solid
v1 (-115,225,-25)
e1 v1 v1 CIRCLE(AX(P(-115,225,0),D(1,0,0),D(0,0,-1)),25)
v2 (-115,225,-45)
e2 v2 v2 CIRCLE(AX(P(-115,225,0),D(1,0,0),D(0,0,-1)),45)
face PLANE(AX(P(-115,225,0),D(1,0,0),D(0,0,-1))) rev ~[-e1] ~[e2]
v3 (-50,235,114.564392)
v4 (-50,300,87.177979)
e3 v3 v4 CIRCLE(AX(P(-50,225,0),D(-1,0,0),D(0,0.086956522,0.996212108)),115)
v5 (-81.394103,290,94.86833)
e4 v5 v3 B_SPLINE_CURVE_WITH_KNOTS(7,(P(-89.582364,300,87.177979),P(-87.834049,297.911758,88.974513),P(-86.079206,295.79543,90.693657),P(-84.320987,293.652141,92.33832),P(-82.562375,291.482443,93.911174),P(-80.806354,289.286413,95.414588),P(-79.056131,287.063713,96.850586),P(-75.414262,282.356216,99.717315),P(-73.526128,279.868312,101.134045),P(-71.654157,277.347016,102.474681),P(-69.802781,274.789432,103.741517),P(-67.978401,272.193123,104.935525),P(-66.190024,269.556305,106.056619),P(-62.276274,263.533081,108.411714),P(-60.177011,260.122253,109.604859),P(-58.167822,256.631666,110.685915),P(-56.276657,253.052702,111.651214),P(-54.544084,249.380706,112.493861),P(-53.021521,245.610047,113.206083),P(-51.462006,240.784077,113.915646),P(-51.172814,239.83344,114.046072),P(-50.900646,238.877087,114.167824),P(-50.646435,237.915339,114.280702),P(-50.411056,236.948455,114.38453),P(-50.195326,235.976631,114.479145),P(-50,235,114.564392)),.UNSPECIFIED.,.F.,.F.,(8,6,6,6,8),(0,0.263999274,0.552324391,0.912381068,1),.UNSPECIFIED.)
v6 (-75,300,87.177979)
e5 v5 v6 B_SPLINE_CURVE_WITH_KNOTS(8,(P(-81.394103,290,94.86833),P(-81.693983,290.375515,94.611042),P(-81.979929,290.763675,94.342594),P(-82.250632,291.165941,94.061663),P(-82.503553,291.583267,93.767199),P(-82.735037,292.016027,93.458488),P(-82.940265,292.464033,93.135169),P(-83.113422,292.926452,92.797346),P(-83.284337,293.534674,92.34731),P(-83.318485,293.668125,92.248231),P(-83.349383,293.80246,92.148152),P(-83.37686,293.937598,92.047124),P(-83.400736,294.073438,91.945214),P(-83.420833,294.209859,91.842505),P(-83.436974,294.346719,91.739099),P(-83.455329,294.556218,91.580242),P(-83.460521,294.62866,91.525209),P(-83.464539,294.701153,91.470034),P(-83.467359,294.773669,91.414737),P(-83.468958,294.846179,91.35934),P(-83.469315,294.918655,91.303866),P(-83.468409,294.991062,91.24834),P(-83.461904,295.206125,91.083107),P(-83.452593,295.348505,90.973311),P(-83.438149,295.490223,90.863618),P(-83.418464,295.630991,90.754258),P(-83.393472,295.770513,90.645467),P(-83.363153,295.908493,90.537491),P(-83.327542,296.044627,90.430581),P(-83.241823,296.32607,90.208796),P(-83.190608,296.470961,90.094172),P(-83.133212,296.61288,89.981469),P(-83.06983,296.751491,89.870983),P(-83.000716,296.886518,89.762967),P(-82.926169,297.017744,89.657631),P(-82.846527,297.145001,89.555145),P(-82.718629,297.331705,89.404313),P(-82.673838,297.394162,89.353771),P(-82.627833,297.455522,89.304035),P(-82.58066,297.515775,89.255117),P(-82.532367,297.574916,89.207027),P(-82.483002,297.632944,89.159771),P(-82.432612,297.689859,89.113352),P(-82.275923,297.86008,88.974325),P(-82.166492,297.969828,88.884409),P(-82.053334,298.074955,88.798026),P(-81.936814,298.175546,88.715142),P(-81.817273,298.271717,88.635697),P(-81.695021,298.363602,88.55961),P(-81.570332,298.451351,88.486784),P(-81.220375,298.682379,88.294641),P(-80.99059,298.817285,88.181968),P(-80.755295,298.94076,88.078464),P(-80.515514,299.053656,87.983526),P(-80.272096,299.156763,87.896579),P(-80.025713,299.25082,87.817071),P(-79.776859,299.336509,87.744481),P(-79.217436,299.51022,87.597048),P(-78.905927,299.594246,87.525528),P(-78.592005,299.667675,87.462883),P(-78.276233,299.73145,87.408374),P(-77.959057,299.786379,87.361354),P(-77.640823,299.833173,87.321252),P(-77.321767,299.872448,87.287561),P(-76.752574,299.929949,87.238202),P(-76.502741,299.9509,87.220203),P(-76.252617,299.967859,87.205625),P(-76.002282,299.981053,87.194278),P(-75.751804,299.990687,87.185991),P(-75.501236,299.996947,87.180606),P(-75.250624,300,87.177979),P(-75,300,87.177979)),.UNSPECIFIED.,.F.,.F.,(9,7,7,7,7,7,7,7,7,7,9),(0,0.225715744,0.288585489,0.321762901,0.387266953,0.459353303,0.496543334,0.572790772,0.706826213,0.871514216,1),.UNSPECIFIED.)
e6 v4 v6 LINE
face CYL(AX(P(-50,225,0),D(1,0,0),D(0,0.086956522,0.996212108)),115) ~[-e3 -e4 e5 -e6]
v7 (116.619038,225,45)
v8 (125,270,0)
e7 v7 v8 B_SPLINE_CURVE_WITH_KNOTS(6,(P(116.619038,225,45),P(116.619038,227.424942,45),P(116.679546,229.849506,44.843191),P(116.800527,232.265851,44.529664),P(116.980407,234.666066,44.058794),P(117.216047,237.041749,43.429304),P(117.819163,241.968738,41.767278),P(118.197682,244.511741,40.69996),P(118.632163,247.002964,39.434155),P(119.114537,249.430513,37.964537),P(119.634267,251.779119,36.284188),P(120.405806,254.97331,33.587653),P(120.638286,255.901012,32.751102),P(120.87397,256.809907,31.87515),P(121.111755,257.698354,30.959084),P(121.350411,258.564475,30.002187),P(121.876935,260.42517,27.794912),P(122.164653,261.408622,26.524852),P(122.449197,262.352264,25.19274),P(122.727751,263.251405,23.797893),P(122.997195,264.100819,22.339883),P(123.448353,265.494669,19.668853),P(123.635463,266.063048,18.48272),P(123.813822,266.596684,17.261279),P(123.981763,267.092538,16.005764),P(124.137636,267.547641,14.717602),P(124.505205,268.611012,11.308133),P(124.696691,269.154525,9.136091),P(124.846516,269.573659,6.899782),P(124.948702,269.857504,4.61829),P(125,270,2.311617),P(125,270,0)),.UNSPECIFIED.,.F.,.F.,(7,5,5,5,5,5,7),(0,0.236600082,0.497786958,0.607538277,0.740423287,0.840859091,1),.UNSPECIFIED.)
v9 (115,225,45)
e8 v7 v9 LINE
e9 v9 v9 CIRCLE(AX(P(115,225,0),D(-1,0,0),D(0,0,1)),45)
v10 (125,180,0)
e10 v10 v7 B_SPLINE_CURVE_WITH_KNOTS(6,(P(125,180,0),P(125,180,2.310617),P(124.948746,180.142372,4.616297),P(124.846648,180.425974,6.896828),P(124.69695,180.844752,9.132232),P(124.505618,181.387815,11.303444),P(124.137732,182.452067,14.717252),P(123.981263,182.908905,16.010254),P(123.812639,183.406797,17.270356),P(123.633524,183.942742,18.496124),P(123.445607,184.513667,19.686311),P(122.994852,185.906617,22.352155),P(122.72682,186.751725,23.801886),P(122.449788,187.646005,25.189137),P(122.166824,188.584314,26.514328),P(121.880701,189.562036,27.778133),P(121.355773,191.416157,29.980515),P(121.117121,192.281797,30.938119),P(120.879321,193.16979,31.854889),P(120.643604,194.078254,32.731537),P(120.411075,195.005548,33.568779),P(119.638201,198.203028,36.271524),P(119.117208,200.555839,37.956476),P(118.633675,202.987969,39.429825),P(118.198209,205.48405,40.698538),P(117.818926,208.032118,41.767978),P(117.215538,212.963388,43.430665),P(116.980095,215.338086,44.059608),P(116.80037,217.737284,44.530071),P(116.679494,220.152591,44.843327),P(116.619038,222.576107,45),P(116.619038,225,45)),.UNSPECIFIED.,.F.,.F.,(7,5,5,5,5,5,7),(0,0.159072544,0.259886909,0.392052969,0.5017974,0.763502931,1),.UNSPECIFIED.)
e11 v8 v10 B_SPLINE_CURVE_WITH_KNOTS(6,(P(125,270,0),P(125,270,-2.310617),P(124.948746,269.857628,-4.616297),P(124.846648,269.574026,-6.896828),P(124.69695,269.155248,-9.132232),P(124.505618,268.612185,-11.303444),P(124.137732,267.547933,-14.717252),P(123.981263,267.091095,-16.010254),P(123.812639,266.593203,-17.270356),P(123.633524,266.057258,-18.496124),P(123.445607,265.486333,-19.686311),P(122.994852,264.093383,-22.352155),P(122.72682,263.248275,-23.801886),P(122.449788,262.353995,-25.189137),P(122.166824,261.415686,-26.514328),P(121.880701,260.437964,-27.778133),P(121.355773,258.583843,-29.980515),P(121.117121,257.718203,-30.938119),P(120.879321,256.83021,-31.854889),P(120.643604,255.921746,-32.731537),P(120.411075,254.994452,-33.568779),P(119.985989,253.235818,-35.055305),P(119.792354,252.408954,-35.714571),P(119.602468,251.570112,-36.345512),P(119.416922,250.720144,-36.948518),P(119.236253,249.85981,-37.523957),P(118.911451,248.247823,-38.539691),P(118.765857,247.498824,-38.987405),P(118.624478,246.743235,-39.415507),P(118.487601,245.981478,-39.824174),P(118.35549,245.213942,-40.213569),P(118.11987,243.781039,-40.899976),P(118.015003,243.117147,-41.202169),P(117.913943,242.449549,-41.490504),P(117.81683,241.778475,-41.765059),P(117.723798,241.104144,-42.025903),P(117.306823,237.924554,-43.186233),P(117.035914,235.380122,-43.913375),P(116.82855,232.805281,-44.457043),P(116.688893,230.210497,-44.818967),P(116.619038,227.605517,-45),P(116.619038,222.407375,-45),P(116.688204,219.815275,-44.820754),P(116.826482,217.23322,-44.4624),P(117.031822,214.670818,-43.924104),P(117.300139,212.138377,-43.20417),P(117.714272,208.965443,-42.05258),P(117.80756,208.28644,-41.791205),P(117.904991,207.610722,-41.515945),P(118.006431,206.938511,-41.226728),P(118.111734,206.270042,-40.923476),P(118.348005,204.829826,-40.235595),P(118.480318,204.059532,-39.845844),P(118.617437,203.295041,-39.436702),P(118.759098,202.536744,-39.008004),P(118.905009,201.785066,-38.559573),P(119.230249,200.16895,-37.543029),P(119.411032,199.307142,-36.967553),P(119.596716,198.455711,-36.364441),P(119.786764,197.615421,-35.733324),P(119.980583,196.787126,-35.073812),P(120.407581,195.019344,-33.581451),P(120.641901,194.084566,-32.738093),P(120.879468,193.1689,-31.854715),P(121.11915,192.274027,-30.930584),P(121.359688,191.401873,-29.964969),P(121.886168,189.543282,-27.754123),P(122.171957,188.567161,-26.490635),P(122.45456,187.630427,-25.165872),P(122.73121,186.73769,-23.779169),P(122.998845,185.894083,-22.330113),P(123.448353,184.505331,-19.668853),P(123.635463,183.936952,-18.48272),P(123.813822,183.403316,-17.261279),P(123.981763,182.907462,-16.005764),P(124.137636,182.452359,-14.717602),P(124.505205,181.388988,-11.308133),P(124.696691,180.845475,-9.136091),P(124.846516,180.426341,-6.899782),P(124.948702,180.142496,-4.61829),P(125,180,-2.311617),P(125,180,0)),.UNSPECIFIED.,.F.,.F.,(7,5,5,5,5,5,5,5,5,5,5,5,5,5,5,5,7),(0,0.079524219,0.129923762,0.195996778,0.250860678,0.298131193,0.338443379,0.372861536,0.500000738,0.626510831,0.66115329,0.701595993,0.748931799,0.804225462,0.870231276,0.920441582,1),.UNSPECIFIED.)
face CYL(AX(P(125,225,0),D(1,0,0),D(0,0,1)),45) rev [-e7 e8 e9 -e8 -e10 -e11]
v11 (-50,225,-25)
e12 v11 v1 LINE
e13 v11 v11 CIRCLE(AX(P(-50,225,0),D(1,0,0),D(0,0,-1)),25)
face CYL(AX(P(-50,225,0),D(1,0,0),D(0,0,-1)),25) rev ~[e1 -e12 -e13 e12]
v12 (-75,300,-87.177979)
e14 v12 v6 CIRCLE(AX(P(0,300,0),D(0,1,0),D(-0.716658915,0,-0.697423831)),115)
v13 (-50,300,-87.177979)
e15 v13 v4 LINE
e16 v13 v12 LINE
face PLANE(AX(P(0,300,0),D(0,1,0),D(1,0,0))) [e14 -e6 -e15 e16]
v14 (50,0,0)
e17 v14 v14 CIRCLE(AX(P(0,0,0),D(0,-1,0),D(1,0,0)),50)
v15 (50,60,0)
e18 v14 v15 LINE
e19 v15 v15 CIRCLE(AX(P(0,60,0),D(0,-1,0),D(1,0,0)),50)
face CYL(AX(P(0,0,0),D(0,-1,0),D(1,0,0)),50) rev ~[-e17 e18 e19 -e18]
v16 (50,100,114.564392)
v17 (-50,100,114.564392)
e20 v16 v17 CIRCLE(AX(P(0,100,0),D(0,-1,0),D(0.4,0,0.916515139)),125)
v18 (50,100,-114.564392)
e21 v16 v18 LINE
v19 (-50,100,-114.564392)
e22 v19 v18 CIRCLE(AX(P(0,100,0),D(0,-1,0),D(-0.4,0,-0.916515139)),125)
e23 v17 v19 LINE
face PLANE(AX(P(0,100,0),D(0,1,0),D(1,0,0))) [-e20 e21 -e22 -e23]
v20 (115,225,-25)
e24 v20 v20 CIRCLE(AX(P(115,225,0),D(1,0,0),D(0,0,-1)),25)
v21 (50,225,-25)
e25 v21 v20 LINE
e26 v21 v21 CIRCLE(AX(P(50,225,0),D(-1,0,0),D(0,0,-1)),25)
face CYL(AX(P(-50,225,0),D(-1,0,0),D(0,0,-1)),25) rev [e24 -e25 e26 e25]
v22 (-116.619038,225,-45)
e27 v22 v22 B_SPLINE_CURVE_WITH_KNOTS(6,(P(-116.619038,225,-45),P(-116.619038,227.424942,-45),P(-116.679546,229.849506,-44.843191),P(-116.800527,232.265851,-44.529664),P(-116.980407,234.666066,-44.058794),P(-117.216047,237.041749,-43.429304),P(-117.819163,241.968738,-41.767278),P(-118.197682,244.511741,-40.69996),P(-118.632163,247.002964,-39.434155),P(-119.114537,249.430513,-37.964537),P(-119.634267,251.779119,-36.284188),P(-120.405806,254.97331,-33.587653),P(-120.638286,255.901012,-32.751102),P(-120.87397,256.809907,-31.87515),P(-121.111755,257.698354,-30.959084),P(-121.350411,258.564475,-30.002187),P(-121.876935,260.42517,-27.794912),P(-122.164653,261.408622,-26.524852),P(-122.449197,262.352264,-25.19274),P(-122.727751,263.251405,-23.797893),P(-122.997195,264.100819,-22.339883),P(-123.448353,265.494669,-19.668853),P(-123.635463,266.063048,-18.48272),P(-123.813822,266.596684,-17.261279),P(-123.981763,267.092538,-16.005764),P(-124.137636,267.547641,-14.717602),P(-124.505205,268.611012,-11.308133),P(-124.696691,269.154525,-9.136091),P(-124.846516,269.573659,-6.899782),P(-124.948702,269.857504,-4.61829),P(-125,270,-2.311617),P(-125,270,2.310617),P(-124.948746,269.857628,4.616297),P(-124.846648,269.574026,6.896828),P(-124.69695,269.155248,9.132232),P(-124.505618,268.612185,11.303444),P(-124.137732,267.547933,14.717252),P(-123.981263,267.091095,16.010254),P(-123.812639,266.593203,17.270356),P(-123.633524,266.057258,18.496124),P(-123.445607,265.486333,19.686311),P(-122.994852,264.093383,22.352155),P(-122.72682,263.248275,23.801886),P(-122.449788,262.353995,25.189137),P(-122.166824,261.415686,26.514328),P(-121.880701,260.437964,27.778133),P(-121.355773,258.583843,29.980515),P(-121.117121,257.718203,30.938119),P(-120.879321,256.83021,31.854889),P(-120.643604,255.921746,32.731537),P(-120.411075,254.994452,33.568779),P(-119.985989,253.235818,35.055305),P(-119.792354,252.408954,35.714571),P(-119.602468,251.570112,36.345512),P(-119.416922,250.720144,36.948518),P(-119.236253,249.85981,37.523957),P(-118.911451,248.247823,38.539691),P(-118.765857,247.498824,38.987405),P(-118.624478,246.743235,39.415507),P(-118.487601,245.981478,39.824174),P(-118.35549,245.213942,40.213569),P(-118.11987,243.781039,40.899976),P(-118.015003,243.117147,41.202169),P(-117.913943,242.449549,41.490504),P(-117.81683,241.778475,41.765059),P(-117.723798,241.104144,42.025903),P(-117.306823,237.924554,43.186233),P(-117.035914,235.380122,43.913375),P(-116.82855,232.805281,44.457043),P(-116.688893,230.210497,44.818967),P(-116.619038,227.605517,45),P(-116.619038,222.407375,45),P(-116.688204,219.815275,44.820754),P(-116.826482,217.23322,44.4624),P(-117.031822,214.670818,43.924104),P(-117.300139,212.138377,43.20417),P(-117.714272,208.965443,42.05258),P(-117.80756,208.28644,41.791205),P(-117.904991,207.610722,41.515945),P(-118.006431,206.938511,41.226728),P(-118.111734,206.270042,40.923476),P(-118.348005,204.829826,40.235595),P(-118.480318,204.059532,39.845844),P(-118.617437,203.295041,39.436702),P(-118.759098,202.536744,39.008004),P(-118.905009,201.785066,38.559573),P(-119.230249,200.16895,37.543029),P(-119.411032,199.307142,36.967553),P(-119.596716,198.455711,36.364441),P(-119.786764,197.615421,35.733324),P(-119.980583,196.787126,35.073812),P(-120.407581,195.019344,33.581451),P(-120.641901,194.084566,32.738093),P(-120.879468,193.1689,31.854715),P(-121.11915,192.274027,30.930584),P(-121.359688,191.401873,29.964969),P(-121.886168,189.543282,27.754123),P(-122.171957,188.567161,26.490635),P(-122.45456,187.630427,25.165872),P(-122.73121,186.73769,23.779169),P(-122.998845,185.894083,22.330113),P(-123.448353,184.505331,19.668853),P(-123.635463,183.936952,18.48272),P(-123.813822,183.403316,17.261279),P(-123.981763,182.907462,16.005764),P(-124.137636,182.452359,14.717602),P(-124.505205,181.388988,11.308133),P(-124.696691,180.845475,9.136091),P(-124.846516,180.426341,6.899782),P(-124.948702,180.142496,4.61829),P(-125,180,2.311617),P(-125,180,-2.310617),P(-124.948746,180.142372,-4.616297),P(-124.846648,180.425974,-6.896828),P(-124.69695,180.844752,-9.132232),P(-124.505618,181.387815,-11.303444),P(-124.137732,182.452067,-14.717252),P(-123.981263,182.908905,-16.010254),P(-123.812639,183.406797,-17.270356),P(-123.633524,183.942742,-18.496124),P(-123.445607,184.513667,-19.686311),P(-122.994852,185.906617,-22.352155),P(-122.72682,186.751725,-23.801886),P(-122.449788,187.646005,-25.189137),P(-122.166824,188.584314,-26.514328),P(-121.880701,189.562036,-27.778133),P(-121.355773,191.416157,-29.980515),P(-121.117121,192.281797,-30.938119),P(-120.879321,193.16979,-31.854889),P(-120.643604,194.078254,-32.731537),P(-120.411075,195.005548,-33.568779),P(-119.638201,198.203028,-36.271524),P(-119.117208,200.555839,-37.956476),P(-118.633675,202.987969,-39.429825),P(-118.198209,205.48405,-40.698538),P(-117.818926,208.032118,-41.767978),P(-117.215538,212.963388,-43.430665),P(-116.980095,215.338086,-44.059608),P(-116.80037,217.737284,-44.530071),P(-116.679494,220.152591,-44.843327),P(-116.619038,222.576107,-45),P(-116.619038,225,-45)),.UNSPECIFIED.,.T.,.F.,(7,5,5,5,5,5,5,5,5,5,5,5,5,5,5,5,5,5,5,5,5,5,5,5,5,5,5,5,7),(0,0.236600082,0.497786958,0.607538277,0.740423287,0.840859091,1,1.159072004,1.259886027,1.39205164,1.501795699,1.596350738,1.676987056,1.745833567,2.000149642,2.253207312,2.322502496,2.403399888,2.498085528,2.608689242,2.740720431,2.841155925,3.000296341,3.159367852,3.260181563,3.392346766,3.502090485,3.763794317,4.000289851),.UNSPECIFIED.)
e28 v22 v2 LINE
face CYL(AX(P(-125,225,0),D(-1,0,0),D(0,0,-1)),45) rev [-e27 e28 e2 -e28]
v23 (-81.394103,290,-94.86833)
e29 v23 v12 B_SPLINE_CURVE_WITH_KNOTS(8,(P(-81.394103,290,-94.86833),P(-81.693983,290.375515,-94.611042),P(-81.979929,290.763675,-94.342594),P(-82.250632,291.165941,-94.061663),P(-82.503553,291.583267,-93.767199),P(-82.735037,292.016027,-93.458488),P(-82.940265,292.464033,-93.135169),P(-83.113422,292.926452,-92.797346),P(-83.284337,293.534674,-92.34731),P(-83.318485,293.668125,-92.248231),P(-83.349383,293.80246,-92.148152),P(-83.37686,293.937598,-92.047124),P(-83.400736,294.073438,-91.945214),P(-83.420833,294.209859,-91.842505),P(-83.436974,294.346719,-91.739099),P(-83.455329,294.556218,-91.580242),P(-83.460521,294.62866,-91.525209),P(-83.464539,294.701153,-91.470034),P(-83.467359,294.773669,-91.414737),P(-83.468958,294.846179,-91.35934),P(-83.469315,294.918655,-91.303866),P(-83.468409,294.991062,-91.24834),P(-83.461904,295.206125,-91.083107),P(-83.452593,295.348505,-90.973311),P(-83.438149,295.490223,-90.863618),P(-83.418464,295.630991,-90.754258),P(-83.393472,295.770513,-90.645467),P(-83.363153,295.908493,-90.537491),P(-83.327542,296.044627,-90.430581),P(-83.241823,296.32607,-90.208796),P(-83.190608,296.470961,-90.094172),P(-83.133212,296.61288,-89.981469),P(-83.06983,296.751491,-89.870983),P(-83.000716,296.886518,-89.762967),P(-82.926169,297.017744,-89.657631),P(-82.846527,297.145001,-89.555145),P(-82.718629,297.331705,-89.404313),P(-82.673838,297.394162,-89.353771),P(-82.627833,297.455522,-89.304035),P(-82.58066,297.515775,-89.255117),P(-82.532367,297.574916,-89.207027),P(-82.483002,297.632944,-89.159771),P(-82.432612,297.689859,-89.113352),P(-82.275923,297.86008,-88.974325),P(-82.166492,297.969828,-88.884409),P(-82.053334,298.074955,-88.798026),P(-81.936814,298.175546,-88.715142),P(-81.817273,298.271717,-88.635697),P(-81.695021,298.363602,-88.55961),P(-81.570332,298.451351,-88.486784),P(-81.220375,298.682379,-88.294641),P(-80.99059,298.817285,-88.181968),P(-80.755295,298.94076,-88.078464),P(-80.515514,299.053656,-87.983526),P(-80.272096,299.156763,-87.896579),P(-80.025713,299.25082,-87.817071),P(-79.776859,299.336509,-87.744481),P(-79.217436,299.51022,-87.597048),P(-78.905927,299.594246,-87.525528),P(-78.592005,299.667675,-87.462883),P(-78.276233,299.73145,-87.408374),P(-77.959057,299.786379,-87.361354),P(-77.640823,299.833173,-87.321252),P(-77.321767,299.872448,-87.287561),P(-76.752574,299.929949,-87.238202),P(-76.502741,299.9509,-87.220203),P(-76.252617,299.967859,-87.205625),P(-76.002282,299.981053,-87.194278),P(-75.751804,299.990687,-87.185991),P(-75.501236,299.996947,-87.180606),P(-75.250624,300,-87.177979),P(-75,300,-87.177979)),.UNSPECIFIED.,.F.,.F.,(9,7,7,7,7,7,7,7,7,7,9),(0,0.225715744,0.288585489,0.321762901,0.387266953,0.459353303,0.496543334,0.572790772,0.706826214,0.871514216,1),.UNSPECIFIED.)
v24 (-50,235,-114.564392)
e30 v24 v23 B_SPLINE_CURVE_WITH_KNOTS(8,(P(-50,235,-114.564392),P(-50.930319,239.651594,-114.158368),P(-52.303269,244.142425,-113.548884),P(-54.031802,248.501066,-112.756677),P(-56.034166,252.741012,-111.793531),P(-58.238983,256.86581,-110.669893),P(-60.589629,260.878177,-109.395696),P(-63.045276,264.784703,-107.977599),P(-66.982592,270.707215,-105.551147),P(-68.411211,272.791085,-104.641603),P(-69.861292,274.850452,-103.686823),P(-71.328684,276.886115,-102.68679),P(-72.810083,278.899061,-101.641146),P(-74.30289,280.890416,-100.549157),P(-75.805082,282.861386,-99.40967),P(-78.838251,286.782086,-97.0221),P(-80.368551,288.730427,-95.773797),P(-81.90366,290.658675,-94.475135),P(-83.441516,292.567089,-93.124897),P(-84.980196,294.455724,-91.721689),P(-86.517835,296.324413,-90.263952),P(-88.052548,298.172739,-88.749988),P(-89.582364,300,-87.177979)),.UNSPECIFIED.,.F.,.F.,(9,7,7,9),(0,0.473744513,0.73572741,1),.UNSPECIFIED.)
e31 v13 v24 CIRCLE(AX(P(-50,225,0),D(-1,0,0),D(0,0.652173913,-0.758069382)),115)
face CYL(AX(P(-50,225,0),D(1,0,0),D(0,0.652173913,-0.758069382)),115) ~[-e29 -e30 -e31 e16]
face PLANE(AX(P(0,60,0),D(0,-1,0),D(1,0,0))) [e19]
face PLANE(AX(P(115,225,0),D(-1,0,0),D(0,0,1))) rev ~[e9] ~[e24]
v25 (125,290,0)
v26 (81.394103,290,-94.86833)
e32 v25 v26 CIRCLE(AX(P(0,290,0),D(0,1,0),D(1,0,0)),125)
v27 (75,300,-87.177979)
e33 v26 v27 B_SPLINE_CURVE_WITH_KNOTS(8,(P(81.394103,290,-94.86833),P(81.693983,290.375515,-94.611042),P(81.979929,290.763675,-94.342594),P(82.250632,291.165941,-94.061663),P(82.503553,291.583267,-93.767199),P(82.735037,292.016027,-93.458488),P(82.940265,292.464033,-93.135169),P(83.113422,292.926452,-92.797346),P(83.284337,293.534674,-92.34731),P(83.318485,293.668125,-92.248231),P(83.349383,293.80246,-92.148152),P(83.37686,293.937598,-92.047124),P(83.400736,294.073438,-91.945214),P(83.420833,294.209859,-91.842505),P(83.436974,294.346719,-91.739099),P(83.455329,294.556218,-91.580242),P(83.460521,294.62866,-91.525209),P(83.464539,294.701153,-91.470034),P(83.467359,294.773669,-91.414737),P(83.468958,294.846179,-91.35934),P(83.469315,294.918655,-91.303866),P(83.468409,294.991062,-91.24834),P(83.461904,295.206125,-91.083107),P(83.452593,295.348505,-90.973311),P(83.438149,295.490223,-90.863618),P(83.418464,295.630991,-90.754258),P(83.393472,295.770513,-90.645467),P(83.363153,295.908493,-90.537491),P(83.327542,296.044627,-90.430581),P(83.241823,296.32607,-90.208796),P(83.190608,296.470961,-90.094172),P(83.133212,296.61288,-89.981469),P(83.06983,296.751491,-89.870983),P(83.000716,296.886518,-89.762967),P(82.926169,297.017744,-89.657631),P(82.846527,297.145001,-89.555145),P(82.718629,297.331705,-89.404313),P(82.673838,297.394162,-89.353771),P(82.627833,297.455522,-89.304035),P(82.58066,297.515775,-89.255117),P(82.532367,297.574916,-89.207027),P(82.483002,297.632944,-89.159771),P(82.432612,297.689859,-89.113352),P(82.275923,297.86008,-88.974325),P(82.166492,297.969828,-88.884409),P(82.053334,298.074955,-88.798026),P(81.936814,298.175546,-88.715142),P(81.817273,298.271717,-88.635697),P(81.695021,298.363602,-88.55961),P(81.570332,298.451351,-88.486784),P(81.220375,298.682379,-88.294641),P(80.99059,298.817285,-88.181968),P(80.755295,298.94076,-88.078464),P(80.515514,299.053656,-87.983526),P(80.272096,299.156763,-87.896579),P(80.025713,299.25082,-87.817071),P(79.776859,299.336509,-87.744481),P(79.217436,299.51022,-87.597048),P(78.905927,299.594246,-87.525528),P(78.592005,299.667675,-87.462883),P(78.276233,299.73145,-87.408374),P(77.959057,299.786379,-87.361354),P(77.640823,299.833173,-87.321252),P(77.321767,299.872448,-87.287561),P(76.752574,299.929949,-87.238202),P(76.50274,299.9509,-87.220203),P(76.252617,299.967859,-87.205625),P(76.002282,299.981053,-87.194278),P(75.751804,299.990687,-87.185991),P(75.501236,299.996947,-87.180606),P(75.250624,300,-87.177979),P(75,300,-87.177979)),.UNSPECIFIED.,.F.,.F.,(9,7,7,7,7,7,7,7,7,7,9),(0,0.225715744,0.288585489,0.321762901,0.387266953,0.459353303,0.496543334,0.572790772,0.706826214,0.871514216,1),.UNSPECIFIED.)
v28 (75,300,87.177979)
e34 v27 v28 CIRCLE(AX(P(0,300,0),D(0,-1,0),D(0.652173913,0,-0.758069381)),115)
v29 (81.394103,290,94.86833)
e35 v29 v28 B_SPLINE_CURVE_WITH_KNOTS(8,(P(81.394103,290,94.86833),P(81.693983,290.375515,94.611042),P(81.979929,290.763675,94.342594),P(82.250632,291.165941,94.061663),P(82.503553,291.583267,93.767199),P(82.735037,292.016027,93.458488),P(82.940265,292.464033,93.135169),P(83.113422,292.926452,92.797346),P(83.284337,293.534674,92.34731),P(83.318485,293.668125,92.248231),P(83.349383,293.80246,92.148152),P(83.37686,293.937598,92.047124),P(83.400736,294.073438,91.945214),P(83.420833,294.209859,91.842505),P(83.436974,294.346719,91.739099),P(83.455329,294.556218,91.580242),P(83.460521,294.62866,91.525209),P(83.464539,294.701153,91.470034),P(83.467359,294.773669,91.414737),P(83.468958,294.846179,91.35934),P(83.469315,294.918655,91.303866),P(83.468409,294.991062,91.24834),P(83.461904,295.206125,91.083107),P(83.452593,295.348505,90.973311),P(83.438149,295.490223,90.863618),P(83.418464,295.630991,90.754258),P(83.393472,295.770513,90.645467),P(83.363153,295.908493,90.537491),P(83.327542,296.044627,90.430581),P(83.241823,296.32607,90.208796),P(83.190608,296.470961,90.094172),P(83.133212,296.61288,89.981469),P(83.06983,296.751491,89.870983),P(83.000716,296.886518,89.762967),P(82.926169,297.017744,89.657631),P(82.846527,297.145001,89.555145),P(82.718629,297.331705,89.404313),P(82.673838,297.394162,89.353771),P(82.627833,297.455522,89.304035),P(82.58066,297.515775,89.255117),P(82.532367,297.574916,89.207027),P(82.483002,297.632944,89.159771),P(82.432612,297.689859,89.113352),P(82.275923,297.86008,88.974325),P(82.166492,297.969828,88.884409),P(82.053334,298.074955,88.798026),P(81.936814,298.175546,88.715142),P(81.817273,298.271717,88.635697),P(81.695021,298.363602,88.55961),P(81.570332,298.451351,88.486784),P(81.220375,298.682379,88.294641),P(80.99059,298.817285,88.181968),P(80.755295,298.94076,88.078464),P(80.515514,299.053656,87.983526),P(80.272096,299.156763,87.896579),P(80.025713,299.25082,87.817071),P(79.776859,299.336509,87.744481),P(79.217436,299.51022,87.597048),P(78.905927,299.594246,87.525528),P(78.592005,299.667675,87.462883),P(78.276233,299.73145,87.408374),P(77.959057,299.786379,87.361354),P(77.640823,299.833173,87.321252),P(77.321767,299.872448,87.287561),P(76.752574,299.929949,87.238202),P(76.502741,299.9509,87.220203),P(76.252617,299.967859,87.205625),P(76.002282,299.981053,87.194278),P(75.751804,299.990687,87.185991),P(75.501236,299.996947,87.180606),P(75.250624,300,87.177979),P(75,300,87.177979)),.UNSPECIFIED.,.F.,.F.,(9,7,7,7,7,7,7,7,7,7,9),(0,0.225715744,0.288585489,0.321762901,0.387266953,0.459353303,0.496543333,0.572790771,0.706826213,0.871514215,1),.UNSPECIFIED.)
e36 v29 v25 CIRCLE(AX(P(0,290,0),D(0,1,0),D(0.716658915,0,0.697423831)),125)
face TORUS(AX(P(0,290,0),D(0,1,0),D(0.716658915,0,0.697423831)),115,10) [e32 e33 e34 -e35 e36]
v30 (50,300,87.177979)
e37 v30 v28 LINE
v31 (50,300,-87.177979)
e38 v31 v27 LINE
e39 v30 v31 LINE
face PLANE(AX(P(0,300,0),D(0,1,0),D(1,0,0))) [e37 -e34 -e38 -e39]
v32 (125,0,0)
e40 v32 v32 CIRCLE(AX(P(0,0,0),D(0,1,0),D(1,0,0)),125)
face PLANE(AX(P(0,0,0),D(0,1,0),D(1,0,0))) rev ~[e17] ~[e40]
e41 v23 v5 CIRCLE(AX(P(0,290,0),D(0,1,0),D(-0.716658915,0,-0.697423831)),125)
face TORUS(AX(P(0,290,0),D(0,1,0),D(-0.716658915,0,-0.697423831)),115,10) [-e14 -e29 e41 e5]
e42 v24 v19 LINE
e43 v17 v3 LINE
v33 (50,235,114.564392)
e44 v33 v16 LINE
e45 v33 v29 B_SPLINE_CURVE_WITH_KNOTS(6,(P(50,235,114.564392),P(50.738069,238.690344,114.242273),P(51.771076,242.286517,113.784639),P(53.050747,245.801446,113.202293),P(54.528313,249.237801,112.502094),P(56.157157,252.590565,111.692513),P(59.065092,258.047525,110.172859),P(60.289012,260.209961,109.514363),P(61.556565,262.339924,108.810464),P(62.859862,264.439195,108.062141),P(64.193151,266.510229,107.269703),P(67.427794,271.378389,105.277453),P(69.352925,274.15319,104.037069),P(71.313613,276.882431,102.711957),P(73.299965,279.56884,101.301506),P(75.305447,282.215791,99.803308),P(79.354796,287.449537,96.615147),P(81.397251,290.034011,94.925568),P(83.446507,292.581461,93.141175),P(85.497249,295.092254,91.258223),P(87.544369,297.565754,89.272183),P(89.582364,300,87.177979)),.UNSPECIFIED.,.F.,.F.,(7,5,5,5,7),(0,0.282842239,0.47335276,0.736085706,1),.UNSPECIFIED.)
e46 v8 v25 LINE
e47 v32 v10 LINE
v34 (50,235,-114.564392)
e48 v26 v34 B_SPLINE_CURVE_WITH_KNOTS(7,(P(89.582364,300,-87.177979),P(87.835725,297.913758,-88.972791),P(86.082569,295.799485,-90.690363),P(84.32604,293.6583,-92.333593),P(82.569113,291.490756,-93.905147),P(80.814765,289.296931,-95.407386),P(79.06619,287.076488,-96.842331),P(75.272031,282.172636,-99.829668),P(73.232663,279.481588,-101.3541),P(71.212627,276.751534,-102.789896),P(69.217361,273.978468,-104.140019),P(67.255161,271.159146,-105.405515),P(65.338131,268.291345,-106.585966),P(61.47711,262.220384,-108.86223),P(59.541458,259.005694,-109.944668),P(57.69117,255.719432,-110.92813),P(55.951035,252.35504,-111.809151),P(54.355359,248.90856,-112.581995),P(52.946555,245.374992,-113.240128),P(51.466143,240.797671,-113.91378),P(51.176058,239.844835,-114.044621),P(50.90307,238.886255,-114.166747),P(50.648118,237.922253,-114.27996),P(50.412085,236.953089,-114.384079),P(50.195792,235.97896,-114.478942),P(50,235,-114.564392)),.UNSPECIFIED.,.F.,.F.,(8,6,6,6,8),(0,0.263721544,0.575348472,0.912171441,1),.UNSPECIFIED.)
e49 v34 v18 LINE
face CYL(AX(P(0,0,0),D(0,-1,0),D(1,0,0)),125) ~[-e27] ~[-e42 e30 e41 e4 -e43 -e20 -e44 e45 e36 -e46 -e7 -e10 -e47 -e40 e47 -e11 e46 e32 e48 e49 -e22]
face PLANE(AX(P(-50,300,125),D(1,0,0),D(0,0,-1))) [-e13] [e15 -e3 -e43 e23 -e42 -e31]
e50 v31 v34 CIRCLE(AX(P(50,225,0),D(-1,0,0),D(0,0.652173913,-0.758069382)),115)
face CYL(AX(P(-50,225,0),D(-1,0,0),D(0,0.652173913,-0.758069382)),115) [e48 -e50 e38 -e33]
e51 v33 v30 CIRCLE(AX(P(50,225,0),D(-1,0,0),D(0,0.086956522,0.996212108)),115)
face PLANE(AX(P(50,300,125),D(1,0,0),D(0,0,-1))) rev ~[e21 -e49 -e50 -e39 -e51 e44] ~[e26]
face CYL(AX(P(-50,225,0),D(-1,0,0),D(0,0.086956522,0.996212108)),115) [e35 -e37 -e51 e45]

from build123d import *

# Parameters (mm, degrees)
SKETCH1_R               = 125
BOSS_EXTRUDE1_DEPTH     = 300
SKETCH2_W               = 100
SKETCH2_H               = 250
CUT_EXTRUDE1_DEPTH      = 200
SKETCH4_R               = 50
CUT_EXTRUDE3_DEPTH      = 60
SKETCH7_R               = 25
CUT_EXTRUDE6_DEPTH      = 176
CUT_EXTRUDE6_DEPTH_BACK = 76
FILLET2_R               = 10
SKETCH8_R               = 45
SKETCH8_R_2             = 25
CUT_EXTRUDE7_DEPTH      = 10
SKETCH10_R              = 45
SKETCH10_R_2            = 25
CUT_EXTRUDE8_DEPTH      = 10


with BuildPart() as part:
    # Sketch1 → Boss-Extrude1 (new body)
    with BuildSketch(Plane(origin=(0, 0, 0), x_dir=(1, 0, 0), z_dir=(0, 1, 0))):
        Circle(SKETCH1_R)
    extrude(amount=BOSS_EXTRUDE1_DEPTH)

    # Sketch2 → Cut-Extrude1 (cut)
    with BuildSketch(Plane(origin=(0, 300, 0), x_dir=(1, 0, 0), z_dir=(0, 1, 0))):
        Rectangle(SKETCH2_W, SKETCH2_H)
    extrude(amount=-CUT_EXTRUDE1_DEPTH, mode=Mode.SUBTRACT)

    # Sketch4 → Cut-Extrude3 (cut)
    with BuildSketch(Plane.XZ):
        Circle(SKETCH4_R)
    extrude(amount=-CUT_EXTRUDE3_DEPTH, mode=Mode.SUBTRACT)

    # Sketch7 → Cut-Extrude6 (cut, two sides)
    with BuildSketch(Plane(origin=(-50, 0, 0), x_dir=(0, 0, -1), z_dir=(1, 0, 0))) as cut_extrude6_sk:
        with BuildLine():
            Line((-87.177978871, 300), (-114.564392374, 300))
            Line((-114.564392374, 300), (-114.564392374, 235))
            ThreePointArc((-114.564392374, 235), (-105.977573518, 269.651471545), (-87.177978871, 300))
        make_face()
        with BuildLine():
            ThreePointArc((87.177978871, 300), (105.977573518, 269.651471545), (114.564392374, 235))
            Line((114.564392374, 235), (114.564392374, 300))
            Line((114.564392374, 300), (87.177978871, 300))
        make_face()
        with Locations((0, 225)):
            Circle(SKETCH7_R)
    extrude(amount=CUT_EXTRUDE6_DEPTH, mode=Mode.SUBTRACT)
    extrude(cut_extrude6_sk.sketch, amount=-CUT_EXTRUDE6_DEPTH_BACK, mode=Mode.SUBTRACT)

    # Fillet2
    fillet2_edges = [part.edges().sort_by_distance(p)[0] for p in [
        (115.807589436, 300, 47.048934409),
        (-125, 300, 0),
    ]]
    fillet(fillet2_edges, radius=FILLET2_R)

    # Sketch8 → Cut-Extrude7 (cut)
    with BuildSketch(Plane(origin=(-125, 0, 0), x_dir=(0, 0, -1), z_dir=(1, 0, 0))):
        with Locations((0, 225)):
            Circle(SKETCH8_R)
        with Locations((0, 225)):
            Circle(SKETCH8_R_2, mode=Mode.SUBTRACT)
    extrude(amount=CUT_EXTRUDE7_DEPTH, mode=Mode.SUBTRACT)

    # Sketch10 → Cut-Extrude8 (cut)
    with BuildSketch(Plane.ZY.offset(-125)):
        with Locations((0, 225)):
            Circle(SKETCH10_R)
        with Locations((0, 225)):
            Circle(SKETCH10_R_2, mode=Mode.SUBTRACT)
    extrude(amount=CUT_EXTRUDE8_DEPTH, mode=Mode.SUBTRACT)


solid = part.part
